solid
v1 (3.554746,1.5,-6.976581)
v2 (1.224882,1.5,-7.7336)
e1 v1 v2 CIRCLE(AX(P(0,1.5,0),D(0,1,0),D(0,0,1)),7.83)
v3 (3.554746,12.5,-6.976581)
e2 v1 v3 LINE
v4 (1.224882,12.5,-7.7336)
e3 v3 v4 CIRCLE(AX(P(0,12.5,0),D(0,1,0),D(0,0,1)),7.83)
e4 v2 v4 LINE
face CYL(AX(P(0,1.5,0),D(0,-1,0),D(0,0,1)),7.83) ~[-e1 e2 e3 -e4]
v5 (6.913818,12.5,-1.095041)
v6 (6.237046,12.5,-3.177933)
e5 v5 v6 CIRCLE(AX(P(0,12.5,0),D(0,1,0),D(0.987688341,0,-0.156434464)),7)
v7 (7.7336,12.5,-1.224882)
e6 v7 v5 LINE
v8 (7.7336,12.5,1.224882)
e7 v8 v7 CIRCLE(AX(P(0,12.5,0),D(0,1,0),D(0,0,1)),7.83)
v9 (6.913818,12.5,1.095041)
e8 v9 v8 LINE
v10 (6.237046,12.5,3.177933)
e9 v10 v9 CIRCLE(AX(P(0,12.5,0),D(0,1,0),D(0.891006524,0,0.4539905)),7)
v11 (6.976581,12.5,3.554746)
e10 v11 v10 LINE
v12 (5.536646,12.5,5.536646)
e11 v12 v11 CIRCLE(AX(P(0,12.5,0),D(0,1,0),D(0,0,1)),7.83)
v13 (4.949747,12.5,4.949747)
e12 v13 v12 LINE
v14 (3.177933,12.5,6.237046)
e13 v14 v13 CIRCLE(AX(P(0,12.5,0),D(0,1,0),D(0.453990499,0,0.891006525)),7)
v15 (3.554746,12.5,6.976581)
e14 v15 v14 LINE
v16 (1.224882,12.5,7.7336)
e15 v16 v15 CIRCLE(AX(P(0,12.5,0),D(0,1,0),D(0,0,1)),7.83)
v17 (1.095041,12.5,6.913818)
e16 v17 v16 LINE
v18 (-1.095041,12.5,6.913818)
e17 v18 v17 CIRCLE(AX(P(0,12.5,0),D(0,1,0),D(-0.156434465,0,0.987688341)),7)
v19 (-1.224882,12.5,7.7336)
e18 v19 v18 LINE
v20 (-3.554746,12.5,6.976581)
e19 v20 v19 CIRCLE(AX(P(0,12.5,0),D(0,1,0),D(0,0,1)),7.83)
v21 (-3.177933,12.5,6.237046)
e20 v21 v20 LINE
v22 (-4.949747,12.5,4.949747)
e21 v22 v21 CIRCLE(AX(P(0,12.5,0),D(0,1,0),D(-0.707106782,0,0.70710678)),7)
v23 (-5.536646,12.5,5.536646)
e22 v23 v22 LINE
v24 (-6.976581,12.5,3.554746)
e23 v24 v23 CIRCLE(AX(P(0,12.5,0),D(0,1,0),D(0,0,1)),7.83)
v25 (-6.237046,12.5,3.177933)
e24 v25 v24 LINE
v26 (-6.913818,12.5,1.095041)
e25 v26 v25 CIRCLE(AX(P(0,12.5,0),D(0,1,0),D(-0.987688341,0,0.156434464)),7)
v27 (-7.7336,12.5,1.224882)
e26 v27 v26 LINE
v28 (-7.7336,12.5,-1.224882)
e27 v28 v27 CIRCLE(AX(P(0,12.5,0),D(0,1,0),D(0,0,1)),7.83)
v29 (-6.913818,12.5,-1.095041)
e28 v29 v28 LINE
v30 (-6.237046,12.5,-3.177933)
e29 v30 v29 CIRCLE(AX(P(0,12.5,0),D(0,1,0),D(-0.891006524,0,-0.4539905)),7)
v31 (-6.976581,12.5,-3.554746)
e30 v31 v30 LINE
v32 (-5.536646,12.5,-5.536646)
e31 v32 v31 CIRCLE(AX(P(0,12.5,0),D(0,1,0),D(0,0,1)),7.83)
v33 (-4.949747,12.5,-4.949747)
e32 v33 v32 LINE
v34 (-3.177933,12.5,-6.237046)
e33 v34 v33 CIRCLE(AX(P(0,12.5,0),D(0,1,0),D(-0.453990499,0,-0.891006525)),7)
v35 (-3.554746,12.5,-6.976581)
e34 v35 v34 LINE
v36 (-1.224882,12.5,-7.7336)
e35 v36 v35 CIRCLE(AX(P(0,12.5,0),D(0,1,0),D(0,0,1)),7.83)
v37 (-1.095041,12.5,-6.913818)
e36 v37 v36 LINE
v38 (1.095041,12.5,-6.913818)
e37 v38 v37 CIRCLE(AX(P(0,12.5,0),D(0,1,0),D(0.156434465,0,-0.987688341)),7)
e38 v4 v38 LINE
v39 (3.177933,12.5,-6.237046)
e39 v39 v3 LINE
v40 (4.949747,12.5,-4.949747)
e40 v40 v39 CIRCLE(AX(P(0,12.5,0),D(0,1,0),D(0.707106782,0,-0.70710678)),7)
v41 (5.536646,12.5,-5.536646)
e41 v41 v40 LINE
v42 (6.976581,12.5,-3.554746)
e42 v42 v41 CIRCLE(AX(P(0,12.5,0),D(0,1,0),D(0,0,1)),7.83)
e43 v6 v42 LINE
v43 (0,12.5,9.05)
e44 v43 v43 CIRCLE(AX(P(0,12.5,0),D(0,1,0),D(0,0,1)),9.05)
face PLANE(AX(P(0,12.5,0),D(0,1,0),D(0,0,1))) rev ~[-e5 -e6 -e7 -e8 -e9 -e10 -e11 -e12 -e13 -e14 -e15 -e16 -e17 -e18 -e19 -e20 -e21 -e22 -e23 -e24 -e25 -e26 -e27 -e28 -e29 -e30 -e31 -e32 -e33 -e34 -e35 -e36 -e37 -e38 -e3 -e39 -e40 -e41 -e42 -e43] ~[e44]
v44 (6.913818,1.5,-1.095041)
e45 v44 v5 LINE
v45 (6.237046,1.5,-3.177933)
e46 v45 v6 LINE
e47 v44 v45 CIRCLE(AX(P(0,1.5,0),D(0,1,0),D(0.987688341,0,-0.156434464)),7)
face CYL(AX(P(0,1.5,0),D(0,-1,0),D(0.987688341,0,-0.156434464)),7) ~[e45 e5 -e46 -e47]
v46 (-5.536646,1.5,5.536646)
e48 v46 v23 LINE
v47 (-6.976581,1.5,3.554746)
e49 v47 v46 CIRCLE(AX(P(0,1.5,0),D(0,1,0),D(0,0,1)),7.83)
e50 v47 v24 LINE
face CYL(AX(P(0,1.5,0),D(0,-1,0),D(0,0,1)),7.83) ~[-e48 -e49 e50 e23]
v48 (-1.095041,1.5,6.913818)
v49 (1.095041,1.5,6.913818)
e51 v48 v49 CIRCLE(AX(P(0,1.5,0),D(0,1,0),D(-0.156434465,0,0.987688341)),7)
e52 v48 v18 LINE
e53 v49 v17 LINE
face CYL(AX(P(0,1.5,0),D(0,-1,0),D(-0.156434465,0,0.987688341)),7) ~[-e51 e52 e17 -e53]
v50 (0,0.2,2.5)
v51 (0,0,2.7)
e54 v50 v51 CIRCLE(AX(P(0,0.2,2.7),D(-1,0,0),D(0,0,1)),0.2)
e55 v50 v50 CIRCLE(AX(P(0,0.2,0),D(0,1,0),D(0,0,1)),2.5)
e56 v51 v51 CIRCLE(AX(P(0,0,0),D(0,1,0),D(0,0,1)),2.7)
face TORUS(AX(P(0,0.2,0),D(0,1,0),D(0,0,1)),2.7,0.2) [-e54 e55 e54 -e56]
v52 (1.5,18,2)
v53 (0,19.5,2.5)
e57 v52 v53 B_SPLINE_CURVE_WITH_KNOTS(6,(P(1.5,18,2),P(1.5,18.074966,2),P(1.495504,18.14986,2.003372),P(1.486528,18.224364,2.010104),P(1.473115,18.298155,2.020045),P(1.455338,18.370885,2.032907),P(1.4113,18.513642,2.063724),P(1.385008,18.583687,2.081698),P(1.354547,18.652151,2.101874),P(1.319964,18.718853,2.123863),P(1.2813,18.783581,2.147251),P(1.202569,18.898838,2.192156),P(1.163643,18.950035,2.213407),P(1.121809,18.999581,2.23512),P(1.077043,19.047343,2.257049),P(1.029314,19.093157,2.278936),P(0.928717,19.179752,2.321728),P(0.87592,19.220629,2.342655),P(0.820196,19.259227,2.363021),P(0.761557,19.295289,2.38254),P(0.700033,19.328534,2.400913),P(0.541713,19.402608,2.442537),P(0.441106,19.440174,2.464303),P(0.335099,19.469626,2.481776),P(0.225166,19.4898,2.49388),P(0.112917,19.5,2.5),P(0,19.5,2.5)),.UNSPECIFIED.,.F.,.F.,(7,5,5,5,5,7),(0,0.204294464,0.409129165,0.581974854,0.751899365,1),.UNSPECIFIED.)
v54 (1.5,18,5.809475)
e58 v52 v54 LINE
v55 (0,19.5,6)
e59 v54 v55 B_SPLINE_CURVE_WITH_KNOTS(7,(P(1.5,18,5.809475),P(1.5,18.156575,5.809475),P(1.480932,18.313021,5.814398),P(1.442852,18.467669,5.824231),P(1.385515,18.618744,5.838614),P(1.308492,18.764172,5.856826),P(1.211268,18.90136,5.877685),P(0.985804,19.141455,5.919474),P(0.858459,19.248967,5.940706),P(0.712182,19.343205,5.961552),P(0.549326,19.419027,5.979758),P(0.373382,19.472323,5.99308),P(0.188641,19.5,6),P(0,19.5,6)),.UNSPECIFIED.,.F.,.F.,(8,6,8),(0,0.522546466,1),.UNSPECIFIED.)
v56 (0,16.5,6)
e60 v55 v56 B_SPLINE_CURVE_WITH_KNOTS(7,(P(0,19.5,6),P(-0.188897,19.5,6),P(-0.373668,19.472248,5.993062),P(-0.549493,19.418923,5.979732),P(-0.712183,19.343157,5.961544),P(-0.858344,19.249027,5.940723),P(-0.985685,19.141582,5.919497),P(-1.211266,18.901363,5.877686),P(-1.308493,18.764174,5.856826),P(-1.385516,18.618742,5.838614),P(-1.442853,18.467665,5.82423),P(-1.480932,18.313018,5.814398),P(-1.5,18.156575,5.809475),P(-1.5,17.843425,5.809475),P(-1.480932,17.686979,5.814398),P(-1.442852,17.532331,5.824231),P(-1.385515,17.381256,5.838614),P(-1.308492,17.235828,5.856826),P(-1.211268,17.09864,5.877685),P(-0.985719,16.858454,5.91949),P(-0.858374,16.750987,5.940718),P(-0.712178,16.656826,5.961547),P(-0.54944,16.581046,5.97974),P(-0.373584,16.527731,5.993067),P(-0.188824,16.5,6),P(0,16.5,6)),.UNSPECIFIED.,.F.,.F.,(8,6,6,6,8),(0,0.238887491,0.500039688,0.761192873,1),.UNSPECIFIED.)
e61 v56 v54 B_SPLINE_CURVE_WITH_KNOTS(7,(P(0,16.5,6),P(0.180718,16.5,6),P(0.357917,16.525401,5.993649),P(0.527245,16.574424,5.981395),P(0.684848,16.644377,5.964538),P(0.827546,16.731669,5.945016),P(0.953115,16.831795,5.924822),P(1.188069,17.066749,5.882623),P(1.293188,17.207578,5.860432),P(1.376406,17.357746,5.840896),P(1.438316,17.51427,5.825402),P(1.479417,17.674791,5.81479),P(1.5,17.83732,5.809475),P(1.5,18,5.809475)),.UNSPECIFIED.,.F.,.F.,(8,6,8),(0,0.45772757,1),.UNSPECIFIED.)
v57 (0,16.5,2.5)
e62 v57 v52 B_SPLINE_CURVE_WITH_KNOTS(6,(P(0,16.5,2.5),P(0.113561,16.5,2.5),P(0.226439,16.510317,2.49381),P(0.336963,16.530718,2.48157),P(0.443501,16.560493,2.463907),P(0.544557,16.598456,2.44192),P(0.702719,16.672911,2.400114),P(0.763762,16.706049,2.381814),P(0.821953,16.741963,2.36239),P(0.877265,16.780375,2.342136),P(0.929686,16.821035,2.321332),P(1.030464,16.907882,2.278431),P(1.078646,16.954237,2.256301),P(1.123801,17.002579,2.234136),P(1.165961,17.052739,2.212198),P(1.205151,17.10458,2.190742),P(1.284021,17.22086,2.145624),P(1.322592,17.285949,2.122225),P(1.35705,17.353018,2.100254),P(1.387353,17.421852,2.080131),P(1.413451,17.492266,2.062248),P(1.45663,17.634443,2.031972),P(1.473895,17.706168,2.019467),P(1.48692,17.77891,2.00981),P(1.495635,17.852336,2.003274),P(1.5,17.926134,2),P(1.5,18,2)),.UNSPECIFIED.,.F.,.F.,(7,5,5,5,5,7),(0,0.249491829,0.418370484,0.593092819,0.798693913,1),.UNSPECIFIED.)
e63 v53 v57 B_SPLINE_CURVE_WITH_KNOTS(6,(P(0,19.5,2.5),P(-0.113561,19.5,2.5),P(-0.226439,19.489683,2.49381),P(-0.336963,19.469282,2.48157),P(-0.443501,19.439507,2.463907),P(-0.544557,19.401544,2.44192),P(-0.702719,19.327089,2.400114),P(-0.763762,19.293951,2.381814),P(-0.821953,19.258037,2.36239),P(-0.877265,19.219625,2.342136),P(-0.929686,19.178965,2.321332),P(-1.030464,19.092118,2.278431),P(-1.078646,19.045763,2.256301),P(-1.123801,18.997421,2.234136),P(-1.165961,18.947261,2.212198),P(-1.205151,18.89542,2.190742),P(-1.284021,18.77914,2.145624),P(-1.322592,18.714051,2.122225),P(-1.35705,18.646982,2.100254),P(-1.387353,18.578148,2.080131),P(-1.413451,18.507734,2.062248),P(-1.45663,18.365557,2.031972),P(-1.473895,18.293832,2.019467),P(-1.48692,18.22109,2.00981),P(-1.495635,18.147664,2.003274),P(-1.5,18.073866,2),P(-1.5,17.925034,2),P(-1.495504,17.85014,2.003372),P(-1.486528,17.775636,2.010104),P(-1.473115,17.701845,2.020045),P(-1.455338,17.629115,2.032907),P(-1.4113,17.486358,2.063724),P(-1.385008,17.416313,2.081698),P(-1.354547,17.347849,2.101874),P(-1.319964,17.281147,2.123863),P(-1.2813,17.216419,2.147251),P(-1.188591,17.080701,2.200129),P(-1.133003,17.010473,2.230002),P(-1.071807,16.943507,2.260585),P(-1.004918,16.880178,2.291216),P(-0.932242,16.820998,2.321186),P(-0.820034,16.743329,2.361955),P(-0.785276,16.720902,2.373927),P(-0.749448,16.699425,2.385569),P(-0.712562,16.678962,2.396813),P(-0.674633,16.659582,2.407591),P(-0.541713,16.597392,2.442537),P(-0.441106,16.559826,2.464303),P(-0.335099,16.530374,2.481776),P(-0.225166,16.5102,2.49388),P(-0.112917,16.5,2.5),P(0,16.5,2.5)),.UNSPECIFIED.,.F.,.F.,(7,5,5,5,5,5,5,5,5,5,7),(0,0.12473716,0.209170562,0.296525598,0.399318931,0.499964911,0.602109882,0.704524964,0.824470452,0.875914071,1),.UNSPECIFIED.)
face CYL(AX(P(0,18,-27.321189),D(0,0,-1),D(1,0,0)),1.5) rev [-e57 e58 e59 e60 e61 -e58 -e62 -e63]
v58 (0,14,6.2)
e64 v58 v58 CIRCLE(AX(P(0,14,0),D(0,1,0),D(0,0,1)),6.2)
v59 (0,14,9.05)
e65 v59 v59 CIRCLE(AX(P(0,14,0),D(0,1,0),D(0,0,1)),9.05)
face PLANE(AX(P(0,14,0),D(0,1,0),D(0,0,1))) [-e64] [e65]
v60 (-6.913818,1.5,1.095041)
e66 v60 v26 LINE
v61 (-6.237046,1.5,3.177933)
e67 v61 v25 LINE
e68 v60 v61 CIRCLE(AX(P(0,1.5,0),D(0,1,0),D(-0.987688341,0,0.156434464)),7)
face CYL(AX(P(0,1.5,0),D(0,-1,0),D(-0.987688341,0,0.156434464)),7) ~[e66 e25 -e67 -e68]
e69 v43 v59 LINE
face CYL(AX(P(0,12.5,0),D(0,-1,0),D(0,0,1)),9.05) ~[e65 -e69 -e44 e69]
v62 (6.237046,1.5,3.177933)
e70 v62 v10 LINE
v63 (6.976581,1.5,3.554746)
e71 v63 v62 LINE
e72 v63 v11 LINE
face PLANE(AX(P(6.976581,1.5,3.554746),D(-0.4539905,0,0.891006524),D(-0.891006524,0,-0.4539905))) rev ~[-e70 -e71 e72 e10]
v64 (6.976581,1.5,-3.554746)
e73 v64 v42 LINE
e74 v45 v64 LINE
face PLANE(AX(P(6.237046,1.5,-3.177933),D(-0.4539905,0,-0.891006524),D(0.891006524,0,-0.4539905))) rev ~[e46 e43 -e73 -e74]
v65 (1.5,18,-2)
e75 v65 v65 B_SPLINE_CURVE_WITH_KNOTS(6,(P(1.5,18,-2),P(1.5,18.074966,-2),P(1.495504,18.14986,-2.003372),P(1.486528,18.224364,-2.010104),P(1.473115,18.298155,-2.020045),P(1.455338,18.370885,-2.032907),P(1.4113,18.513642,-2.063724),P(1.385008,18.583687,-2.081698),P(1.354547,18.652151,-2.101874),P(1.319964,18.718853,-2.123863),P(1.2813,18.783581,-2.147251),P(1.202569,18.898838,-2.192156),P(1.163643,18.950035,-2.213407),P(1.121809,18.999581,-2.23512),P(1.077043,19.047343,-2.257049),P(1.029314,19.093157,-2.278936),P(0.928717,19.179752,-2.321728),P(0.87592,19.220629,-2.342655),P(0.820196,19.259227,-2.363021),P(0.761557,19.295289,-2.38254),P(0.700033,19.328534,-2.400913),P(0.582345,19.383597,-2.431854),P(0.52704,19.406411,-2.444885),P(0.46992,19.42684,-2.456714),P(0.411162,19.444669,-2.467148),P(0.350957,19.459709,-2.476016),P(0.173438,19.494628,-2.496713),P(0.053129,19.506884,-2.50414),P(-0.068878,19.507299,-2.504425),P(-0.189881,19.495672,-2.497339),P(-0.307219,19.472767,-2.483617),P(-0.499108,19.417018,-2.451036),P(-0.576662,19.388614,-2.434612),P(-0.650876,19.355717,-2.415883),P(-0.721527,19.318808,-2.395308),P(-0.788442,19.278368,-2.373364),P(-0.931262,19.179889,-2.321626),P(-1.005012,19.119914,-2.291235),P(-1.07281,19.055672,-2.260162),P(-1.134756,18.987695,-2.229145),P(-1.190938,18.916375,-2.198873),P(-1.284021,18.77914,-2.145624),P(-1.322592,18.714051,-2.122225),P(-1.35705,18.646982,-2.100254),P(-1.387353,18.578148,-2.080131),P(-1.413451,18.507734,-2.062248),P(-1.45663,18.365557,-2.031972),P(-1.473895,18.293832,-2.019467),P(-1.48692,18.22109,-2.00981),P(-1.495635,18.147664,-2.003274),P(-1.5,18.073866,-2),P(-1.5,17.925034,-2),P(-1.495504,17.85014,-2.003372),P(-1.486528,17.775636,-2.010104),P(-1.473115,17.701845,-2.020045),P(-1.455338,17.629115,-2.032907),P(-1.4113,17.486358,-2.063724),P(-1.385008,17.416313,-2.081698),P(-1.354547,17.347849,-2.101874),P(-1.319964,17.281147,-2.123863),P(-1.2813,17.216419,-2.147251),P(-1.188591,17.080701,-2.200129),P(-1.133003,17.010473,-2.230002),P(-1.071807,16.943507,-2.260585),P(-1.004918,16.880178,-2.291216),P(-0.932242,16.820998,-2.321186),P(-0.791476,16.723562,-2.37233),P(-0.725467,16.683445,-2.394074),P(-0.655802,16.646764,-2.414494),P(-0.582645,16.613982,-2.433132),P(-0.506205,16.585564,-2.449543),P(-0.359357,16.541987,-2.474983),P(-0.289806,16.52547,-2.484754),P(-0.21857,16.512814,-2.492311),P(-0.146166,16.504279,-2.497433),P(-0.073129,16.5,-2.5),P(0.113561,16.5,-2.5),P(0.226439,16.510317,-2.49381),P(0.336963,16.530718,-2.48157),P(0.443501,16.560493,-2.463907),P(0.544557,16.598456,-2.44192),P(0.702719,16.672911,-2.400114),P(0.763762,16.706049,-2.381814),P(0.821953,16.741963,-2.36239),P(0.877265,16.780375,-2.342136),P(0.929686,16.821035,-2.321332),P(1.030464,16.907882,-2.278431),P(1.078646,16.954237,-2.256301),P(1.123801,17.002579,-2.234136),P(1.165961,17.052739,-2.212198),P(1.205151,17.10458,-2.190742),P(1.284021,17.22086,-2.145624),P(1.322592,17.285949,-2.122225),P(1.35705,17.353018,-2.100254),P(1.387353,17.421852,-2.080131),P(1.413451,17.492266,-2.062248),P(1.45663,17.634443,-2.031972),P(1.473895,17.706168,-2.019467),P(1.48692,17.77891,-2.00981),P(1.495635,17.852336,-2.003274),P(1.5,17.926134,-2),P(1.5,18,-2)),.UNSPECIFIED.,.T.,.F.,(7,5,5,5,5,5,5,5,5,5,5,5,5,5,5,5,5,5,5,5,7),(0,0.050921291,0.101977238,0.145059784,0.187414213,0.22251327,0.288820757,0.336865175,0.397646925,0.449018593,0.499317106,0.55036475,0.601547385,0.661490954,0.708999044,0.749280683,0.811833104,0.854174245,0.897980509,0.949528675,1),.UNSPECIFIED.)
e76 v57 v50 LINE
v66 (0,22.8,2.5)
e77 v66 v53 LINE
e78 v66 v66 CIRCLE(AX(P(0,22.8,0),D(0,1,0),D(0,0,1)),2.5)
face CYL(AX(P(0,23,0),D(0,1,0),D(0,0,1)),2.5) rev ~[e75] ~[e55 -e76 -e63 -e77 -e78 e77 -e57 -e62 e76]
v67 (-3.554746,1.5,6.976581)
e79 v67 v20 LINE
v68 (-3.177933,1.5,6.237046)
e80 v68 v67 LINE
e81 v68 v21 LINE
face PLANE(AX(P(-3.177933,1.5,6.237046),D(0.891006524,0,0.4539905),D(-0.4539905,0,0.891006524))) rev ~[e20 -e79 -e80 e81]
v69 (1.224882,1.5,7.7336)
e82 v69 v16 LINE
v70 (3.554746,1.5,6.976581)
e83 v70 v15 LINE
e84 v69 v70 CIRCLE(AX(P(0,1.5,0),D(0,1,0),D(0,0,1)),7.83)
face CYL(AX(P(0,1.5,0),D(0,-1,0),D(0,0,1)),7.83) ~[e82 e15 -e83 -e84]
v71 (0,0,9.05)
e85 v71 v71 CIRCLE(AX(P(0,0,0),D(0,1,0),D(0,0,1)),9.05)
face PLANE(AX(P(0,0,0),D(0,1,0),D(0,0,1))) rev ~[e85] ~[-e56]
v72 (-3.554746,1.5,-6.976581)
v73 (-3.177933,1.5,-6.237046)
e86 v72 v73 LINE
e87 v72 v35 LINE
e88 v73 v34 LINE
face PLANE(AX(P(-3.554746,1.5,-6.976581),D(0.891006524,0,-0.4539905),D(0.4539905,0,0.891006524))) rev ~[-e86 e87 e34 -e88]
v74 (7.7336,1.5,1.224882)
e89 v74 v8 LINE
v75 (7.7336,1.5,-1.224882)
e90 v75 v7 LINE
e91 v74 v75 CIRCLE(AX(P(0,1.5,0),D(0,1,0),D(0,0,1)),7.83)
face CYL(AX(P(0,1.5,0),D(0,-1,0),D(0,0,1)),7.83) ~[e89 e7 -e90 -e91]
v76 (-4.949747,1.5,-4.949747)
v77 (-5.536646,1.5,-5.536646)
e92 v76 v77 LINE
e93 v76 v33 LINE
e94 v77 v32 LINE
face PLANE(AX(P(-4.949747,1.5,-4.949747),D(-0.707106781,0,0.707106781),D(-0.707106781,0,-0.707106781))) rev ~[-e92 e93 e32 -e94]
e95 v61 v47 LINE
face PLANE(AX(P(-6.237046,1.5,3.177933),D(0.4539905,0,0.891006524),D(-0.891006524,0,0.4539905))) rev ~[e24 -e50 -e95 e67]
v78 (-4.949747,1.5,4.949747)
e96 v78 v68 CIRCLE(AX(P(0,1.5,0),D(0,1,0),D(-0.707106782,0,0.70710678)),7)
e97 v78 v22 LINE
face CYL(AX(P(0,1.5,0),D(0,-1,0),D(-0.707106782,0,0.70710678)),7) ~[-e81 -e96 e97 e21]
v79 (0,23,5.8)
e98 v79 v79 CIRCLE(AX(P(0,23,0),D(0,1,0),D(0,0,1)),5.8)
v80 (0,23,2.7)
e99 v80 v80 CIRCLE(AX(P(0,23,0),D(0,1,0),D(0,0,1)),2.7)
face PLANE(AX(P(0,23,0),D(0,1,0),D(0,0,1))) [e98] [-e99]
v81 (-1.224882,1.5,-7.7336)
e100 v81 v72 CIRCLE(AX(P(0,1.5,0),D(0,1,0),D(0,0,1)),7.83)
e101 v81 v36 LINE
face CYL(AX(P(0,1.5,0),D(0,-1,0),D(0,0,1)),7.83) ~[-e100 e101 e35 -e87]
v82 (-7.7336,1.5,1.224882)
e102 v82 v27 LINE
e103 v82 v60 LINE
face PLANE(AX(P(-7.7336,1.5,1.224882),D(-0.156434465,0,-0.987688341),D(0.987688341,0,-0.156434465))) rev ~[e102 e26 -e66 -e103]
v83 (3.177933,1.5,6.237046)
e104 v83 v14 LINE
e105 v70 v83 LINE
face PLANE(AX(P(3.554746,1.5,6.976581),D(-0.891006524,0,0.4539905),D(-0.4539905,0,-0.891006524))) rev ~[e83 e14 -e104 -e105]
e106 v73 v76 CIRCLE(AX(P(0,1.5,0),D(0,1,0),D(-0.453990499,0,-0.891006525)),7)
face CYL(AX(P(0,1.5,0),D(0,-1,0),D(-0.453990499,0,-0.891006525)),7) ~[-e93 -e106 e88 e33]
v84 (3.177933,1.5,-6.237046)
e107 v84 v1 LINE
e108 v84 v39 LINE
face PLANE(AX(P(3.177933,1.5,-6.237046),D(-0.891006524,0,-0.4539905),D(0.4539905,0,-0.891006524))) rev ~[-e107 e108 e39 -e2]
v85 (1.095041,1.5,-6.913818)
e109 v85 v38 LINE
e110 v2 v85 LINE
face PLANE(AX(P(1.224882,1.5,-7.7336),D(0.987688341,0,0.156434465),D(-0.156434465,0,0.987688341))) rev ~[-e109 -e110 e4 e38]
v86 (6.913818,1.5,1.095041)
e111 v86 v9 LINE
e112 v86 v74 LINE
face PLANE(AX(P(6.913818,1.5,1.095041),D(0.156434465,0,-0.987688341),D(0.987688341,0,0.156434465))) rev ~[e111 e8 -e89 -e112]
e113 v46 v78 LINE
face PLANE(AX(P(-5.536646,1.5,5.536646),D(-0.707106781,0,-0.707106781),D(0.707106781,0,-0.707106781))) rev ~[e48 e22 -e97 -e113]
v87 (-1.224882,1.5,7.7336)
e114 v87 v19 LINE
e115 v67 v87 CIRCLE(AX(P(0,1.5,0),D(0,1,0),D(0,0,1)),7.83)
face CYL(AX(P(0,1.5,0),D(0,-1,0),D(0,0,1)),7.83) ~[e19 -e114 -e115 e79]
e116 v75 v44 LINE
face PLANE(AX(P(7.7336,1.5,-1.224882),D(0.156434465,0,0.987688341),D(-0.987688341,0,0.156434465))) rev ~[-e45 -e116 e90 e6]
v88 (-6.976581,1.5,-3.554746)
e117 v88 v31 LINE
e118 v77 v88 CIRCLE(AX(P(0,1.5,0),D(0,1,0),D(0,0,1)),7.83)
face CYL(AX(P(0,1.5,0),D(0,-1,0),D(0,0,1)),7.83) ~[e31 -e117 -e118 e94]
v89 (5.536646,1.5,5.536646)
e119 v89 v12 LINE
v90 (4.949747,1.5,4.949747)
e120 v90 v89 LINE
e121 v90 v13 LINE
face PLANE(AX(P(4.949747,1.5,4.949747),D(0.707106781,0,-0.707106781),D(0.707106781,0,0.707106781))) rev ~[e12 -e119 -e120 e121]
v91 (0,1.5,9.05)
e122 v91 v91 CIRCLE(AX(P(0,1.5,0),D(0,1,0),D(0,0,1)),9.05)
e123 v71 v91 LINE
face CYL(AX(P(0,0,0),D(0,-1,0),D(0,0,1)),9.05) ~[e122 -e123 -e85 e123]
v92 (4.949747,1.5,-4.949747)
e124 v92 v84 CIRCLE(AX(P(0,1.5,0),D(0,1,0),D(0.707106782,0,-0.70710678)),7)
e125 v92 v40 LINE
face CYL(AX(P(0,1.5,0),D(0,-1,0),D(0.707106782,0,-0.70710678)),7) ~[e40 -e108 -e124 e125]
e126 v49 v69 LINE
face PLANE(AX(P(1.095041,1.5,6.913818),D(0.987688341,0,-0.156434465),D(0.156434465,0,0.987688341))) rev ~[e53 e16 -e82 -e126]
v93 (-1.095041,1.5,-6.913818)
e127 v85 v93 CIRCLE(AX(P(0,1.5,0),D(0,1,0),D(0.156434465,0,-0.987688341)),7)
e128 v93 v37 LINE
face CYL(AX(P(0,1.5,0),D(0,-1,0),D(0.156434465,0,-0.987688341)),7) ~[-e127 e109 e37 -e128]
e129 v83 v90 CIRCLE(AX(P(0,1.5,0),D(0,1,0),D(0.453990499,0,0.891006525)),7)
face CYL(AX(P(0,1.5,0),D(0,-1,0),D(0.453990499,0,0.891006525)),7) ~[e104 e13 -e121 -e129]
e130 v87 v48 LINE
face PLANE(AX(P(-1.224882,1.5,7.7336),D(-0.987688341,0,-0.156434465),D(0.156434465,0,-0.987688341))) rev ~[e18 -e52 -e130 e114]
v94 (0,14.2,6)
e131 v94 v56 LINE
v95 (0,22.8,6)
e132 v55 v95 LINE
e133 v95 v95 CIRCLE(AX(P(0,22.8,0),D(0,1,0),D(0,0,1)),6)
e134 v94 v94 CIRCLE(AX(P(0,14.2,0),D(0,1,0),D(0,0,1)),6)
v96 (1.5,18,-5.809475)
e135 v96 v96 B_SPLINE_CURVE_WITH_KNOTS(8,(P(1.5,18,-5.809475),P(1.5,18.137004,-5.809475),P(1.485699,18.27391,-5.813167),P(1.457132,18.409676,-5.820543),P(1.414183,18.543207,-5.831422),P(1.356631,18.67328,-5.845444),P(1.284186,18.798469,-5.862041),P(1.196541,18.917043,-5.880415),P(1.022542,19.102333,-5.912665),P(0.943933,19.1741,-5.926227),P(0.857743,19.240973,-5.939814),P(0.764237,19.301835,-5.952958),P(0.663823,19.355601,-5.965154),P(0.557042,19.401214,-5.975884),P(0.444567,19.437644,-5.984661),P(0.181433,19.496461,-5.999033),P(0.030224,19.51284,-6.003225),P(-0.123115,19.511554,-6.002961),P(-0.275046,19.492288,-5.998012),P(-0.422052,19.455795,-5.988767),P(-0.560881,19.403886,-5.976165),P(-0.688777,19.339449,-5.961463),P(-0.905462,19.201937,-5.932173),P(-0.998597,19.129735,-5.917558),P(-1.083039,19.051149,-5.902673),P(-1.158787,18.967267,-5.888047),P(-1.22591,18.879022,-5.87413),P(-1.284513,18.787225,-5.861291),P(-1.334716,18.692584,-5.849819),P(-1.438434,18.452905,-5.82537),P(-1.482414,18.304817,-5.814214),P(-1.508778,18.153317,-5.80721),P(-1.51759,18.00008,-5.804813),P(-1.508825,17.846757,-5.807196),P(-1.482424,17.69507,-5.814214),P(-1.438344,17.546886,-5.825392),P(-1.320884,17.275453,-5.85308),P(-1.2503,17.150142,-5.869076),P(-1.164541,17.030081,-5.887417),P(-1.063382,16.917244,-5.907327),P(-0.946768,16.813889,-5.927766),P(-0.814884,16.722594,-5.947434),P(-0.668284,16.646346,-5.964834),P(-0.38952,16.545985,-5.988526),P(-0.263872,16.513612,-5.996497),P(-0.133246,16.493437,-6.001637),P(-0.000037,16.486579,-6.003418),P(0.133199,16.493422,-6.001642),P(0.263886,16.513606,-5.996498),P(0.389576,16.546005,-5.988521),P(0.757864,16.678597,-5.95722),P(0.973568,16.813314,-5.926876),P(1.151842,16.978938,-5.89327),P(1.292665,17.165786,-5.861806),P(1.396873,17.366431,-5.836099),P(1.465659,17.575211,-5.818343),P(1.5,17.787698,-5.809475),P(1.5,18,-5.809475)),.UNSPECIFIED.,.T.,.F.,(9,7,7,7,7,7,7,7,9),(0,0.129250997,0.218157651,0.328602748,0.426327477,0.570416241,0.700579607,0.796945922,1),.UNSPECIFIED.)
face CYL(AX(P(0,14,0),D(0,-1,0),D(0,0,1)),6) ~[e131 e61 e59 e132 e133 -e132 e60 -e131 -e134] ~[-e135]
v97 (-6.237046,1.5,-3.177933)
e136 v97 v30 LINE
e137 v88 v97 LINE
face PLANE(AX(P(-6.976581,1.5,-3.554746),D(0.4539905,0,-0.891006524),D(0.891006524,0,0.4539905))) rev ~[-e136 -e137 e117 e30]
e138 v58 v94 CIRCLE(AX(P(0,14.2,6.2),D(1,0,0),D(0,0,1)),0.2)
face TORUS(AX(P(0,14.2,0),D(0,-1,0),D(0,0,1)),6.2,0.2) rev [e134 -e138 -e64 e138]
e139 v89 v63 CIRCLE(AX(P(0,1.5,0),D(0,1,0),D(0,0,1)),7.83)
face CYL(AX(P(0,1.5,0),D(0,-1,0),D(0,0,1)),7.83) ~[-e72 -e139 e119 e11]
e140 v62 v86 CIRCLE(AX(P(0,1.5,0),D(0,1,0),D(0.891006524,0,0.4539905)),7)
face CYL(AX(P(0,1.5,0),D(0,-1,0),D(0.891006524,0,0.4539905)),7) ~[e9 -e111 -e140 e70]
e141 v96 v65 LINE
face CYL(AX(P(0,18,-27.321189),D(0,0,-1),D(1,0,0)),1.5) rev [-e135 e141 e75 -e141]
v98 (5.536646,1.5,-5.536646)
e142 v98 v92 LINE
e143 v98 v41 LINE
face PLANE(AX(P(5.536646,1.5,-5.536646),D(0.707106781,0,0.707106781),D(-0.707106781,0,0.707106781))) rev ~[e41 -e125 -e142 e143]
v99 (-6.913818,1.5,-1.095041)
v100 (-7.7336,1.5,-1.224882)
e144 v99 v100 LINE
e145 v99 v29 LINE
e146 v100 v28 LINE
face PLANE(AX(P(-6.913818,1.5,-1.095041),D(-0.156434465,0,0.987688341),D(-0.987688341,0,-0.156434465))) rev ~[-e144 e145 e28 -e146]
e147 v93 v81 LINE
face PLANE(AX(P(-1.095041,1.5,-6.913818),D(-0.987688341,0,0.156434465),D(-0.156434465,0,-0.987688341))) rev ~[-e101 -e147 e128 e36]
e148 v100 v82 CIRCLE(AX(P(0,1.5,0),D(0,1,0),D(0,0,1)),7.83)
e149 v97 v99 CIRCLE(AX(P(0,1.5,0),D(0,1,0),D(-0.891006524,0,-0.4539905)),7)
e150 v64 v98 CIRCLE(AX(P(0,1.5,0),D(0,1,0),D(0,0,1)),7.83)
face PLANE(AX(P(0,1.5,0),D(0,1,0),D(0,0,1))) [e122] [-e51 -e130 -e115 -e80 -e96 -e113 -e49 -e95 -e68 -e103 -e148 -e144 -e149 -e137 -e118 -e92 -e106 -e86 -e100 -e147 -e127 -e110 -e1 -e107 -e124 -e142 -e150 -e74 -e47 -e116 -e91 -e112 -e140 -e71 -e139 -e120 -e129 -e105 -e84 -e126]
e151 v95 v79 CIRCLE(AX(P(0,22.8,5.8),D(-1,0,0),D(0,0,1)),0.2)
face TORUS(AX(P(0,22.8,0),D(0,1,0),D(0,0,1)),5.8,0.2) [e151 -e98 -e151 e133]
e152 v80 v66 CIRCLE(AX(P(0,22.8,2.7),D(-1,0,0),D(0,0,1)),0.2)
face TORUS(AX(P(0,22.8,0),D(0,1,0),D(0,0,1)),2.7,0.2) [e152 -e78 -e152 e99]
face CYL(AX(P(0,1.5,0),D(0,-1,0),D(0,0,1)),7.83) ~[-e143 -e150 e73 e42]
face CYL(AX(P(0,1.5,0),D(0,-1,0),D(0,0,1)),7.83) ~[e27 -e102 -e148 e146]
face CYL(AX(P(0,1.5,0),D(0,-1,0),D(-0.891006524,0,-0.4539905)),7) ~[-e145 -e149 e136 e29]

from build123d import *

# Parameters (mm, degrees)
SKETCH1_R               = 9.05
BOSS_EXTRUDE1_DEPTH     = 1.5
SKETCH2_R               = 7.83
BOSS_EXTRUDE2_DEPTH     = 11
CUT_EXTRUDE1_START      = -11
CUT_EXTRUDE1_DEPTH      = 11
SKETCH3_R               = 9.05
BOSS_EXTRUDE3_DEPTH     = 1.5
SKETCH5_R               = 6
BOSS_EXTRUDE4_DEPTH     = 9
SKETCH6_R               = 2.5
CUT_EXTRUDE2_DEPTH      = 27.321189183
CUT_EXTRUDE3_DEPTH      = 27.321189183
CUT_EXTRUDE3_DEPTH_BACK = 27.321189183
SKETCH7_R               = 1.5
FILLET1_R               = 0.2


with BuildPart() as part:
    # Sketch1 → Boss-Extrude1 (new body)
    with BuildSketch(Plane(origin=(0, 0, 0), x_dir=(1, 0, 0), z_dir=(0, 1, 0))):
        with Locations(Location((0, 0, 0), (0, 0, 270))):
            Circle(SKETCH1_R)
    extrude(amount=BOSS_EXTRUDE1_DEPTH)

    # Sketch2 → Boss-Extrude2 (add)
    with BuildSketch(Plane(origin=(0, 1.5, 0), x_dir=(1, 0, 0), z_dir=(0, 1, 0))):
        with Locations(Location((0, 0, 0), (0, 0, 270))):
            Circle(SKETCH2_R)
    extrude(amount=BOSS_EXTRUDE2_DEPTH)

    # Sketch4 → Cut-Extrude1 (cut)
    with BuildSketch(Plane(origin=(0, 12.5, 0), x_dir=(1, 0, 0), z_dir=(0, 1, 0)).offset(CUT_EXTRUDE1_START)):
        with BuildLine():
            Line((-1.095041255, 6.913818384), (-1.224881861, 7.733599707))
            ThreePointArc((-1.224881861, 7.733599707), (0, 7.83), (1.224881861, 7.733599707))
            Line((1.224881861, 7.733599707), (1.095041255, 6.913818384))
            ThreePointArc((1.095041255, 6.913818384), (0, 7), (-1.095041255, 6.913818384))
        make_face()
        with BuildLine():
            Line((3.177933498, 6.237045669), (3.554745613, 6.976581084))
            ThreePointArc((3.554745613, 6.976581084), (4.602358525, 6.334603066), (5.536646097, 5.536646097))
            Line((5.536646097, 5.536646097), (4.949747468, 4.949747468))
            ThreePointArc((4.949747468, 4.949747468), (4.114496766, 5.663118961), (3.177933498, 6.237045669))
        make_face()
        with BuildLine():
            Line((6.237045669, 3.177933498), (6.976581084, 3.554745613))
            ThreePointArc((6.976581084, 3.554745613), (7.446772523, 2.419603066), (7.733599707, 1.224881861))
            Line((7.733599707, 1.224881861), (6.913818384, 1.095041255))
            ThreePointArc((6.913818384, 1.095041255), (6.657395614, 2.163118961), (6.237045669, 3.177933498))
        make_face()
        with BuildLine():
            Line((6.913818384, -1.095041255), (7.733599707, -1.224881861))
            ThreePointArc((7.733599707, -1.224881861), (7.446772523, -2.419603066), (6.976581084, -3.554745613))
            Line((6.976581084, -3.554745613), (6.237045669, -3.177933498))
            ThreePointArc((6.237045669, -3.177933498), (6.657395614, -2.163118961), (6.913818384, -1.095041255))
        make_face()
        with BuildLine():
            Line((4.949747468, -4.949747468), (5.536646097, -5.536646097))
            ThreePointArc((5.536646097, -5.536646097), (4.602358525, -6.334603066), (3.554745613, -6.976581084))
            Line((3.554745613, -6.976581084), (3.177933498, -6.237045669))
            ThreePointArc((3.177933498, -6.237045669), (4.114496766, -5.663118961), (4.949747468, -4.949747468))
        make_face()
        with BuildLine():
            Line((1.095041255, -6.913818384), (1.224881861, -7.733599707))
            ThreePointArc((1.224881861, -7.733599707), (0, -7.83), (-1.224881861, -7.733599707))
            Line((-1.224881861, -7.733599707), (-1.095041255, -6.913818384))
            ThreePointArc((-1.095041255, -6.913818384), (0, -7), (1.095041255, -6.913818384))
        make_face()
        with BuildLine():
            Line((-3.177933498, -6.237045669), (-3.554745613, -6.976581084))
            ThreePointArc((-3.554745613, -6.976581084), (-4.602358525, -6.334603066), (-5.536646097, -5.536646097))
            Line((-5.536646097, -5.536646097), (-4.949747468, -4.949747468))
            ThreePointArc((-4.949747468, -4.949747468), (-4.114496766, -5.663118961), (-3.177933498, -6.237045669))
        make_face()
        with BuildLine():
            Line((-6.237045669, -3.177933498), (-6.976581084, -3.554745613))
            ThreePointArc((-6.976581084, -3.554745613), (-7.446772523, -2.419603066), (-7.733599707, -1.224881861))
            Line((-7.733599707, -1.224881861), (-6.913818384, -1.095041255))
            ThreePointArc((-6.913818384, -1.095041255), (-6.657395614, -2.163118961), (-6.237045669, -3.177933498))
        make_face()
        with BuildLine():
            Line((-6.913818384, 1.095041255), (-7.733599707, 1.224881861))
            ThreePointArc((-7.733599707, 1.224881861), (-7.446772523, 2.419603066), (-6.976581084, 3.554745613))
            Line((-6.976581084, 3.554745613), (-6.237045669, 3.177933498))
            ThreePointArc((-6.237045669, 3.177933498), (-6.657395614, 2.163118961), (-6.913818384, 1.095041255))
        make_face()
        with BuildLine():
            Line((-4.949747468, 4.949747468), (-5.536646097, 5.536646097))
            ThreePointArc((-5.536646097, 5.536646097), (-4.602358525, 6.334603066), (-3.554745613, 6.976581084))
            Line((-3.554745613, 6.976581084), (-3.177933498, 6.237045669))
            ThreePointArc((-3.177933498, 6.237045669), (-4.114496766, 5.663118961), (-4.949747468, 4.949747468))
        make_face()
    extrude(amount=CUT_EXTRUDE1_DEPTH, mode=Mode.SUBTRACT)

    # Sketch3 → Boss-Extrude3 (add)
    with BuildSketch(Plane(origin=(0, 12.5, 0), x_dir=(1, 0, 0), z_dir=(0, 1, 0))):
        with Locations(Location((0, 0, 0), (0, 0, 270))):
            Circle(SKETCH3_R)
    extrude(amount=BOSS_EXTRUDE3_DEPTH)

    # Sketch5 → Boss-Extrude4 (add)
    with BuildSketch(Plane(origin=(0, 14, 0), x_dir=(1, 0, 0), z_dir=(0, 1, 0))):
        with Locations(Location((0, 0, 0), (0, 0, 270))):
            Circle(SKETCH5_R)
    extrude(amount=BOSS_EXTRUDE4_DEPTH)

    # Sketch6 → Cut-Extrude2 (cut, through all)
    with BuildSketch(Plane(origin=(0, 23, 0), x_dir=(1, 0, 0), z_dir=(0, 1, 0))):
        with Locations(Location((0, 0, 0), (0, 0, 270))):
            Circle(SKETCH6_R)
    extrude(amount=-CUT_EXTRUDE2_DEPTH, mode=Mode.SUBTRACT)

    # Sketch7 → Cut-Extrude3 (cut, two sides: drawn at the far end of the back side and taken through both)
    with BuildSketch(Plane.XY.offset(-CUT_EXTRUDE3_DEPTH_BACK)):
        with Locations((0, 18)):
            Circle(SKETCH7_R)
    extrude(amount=CUT_EXTRUDE3_DEPTH + CUT_EXTRUDE3_DEPTH_BACK, mode=Mode.SUBTRACT)

    # Fillet1
    fillet1_edges = [part.edges().sort_by_distance(p)[0] for p in [
        (0, 14, -6),
        (0, 23, -6),
        (0, 0, -2.5),
        (0, 23, -2.5),
    ]]
    fillet(fillet1_edges, radius=FILLET1_R)


solid = part.part
